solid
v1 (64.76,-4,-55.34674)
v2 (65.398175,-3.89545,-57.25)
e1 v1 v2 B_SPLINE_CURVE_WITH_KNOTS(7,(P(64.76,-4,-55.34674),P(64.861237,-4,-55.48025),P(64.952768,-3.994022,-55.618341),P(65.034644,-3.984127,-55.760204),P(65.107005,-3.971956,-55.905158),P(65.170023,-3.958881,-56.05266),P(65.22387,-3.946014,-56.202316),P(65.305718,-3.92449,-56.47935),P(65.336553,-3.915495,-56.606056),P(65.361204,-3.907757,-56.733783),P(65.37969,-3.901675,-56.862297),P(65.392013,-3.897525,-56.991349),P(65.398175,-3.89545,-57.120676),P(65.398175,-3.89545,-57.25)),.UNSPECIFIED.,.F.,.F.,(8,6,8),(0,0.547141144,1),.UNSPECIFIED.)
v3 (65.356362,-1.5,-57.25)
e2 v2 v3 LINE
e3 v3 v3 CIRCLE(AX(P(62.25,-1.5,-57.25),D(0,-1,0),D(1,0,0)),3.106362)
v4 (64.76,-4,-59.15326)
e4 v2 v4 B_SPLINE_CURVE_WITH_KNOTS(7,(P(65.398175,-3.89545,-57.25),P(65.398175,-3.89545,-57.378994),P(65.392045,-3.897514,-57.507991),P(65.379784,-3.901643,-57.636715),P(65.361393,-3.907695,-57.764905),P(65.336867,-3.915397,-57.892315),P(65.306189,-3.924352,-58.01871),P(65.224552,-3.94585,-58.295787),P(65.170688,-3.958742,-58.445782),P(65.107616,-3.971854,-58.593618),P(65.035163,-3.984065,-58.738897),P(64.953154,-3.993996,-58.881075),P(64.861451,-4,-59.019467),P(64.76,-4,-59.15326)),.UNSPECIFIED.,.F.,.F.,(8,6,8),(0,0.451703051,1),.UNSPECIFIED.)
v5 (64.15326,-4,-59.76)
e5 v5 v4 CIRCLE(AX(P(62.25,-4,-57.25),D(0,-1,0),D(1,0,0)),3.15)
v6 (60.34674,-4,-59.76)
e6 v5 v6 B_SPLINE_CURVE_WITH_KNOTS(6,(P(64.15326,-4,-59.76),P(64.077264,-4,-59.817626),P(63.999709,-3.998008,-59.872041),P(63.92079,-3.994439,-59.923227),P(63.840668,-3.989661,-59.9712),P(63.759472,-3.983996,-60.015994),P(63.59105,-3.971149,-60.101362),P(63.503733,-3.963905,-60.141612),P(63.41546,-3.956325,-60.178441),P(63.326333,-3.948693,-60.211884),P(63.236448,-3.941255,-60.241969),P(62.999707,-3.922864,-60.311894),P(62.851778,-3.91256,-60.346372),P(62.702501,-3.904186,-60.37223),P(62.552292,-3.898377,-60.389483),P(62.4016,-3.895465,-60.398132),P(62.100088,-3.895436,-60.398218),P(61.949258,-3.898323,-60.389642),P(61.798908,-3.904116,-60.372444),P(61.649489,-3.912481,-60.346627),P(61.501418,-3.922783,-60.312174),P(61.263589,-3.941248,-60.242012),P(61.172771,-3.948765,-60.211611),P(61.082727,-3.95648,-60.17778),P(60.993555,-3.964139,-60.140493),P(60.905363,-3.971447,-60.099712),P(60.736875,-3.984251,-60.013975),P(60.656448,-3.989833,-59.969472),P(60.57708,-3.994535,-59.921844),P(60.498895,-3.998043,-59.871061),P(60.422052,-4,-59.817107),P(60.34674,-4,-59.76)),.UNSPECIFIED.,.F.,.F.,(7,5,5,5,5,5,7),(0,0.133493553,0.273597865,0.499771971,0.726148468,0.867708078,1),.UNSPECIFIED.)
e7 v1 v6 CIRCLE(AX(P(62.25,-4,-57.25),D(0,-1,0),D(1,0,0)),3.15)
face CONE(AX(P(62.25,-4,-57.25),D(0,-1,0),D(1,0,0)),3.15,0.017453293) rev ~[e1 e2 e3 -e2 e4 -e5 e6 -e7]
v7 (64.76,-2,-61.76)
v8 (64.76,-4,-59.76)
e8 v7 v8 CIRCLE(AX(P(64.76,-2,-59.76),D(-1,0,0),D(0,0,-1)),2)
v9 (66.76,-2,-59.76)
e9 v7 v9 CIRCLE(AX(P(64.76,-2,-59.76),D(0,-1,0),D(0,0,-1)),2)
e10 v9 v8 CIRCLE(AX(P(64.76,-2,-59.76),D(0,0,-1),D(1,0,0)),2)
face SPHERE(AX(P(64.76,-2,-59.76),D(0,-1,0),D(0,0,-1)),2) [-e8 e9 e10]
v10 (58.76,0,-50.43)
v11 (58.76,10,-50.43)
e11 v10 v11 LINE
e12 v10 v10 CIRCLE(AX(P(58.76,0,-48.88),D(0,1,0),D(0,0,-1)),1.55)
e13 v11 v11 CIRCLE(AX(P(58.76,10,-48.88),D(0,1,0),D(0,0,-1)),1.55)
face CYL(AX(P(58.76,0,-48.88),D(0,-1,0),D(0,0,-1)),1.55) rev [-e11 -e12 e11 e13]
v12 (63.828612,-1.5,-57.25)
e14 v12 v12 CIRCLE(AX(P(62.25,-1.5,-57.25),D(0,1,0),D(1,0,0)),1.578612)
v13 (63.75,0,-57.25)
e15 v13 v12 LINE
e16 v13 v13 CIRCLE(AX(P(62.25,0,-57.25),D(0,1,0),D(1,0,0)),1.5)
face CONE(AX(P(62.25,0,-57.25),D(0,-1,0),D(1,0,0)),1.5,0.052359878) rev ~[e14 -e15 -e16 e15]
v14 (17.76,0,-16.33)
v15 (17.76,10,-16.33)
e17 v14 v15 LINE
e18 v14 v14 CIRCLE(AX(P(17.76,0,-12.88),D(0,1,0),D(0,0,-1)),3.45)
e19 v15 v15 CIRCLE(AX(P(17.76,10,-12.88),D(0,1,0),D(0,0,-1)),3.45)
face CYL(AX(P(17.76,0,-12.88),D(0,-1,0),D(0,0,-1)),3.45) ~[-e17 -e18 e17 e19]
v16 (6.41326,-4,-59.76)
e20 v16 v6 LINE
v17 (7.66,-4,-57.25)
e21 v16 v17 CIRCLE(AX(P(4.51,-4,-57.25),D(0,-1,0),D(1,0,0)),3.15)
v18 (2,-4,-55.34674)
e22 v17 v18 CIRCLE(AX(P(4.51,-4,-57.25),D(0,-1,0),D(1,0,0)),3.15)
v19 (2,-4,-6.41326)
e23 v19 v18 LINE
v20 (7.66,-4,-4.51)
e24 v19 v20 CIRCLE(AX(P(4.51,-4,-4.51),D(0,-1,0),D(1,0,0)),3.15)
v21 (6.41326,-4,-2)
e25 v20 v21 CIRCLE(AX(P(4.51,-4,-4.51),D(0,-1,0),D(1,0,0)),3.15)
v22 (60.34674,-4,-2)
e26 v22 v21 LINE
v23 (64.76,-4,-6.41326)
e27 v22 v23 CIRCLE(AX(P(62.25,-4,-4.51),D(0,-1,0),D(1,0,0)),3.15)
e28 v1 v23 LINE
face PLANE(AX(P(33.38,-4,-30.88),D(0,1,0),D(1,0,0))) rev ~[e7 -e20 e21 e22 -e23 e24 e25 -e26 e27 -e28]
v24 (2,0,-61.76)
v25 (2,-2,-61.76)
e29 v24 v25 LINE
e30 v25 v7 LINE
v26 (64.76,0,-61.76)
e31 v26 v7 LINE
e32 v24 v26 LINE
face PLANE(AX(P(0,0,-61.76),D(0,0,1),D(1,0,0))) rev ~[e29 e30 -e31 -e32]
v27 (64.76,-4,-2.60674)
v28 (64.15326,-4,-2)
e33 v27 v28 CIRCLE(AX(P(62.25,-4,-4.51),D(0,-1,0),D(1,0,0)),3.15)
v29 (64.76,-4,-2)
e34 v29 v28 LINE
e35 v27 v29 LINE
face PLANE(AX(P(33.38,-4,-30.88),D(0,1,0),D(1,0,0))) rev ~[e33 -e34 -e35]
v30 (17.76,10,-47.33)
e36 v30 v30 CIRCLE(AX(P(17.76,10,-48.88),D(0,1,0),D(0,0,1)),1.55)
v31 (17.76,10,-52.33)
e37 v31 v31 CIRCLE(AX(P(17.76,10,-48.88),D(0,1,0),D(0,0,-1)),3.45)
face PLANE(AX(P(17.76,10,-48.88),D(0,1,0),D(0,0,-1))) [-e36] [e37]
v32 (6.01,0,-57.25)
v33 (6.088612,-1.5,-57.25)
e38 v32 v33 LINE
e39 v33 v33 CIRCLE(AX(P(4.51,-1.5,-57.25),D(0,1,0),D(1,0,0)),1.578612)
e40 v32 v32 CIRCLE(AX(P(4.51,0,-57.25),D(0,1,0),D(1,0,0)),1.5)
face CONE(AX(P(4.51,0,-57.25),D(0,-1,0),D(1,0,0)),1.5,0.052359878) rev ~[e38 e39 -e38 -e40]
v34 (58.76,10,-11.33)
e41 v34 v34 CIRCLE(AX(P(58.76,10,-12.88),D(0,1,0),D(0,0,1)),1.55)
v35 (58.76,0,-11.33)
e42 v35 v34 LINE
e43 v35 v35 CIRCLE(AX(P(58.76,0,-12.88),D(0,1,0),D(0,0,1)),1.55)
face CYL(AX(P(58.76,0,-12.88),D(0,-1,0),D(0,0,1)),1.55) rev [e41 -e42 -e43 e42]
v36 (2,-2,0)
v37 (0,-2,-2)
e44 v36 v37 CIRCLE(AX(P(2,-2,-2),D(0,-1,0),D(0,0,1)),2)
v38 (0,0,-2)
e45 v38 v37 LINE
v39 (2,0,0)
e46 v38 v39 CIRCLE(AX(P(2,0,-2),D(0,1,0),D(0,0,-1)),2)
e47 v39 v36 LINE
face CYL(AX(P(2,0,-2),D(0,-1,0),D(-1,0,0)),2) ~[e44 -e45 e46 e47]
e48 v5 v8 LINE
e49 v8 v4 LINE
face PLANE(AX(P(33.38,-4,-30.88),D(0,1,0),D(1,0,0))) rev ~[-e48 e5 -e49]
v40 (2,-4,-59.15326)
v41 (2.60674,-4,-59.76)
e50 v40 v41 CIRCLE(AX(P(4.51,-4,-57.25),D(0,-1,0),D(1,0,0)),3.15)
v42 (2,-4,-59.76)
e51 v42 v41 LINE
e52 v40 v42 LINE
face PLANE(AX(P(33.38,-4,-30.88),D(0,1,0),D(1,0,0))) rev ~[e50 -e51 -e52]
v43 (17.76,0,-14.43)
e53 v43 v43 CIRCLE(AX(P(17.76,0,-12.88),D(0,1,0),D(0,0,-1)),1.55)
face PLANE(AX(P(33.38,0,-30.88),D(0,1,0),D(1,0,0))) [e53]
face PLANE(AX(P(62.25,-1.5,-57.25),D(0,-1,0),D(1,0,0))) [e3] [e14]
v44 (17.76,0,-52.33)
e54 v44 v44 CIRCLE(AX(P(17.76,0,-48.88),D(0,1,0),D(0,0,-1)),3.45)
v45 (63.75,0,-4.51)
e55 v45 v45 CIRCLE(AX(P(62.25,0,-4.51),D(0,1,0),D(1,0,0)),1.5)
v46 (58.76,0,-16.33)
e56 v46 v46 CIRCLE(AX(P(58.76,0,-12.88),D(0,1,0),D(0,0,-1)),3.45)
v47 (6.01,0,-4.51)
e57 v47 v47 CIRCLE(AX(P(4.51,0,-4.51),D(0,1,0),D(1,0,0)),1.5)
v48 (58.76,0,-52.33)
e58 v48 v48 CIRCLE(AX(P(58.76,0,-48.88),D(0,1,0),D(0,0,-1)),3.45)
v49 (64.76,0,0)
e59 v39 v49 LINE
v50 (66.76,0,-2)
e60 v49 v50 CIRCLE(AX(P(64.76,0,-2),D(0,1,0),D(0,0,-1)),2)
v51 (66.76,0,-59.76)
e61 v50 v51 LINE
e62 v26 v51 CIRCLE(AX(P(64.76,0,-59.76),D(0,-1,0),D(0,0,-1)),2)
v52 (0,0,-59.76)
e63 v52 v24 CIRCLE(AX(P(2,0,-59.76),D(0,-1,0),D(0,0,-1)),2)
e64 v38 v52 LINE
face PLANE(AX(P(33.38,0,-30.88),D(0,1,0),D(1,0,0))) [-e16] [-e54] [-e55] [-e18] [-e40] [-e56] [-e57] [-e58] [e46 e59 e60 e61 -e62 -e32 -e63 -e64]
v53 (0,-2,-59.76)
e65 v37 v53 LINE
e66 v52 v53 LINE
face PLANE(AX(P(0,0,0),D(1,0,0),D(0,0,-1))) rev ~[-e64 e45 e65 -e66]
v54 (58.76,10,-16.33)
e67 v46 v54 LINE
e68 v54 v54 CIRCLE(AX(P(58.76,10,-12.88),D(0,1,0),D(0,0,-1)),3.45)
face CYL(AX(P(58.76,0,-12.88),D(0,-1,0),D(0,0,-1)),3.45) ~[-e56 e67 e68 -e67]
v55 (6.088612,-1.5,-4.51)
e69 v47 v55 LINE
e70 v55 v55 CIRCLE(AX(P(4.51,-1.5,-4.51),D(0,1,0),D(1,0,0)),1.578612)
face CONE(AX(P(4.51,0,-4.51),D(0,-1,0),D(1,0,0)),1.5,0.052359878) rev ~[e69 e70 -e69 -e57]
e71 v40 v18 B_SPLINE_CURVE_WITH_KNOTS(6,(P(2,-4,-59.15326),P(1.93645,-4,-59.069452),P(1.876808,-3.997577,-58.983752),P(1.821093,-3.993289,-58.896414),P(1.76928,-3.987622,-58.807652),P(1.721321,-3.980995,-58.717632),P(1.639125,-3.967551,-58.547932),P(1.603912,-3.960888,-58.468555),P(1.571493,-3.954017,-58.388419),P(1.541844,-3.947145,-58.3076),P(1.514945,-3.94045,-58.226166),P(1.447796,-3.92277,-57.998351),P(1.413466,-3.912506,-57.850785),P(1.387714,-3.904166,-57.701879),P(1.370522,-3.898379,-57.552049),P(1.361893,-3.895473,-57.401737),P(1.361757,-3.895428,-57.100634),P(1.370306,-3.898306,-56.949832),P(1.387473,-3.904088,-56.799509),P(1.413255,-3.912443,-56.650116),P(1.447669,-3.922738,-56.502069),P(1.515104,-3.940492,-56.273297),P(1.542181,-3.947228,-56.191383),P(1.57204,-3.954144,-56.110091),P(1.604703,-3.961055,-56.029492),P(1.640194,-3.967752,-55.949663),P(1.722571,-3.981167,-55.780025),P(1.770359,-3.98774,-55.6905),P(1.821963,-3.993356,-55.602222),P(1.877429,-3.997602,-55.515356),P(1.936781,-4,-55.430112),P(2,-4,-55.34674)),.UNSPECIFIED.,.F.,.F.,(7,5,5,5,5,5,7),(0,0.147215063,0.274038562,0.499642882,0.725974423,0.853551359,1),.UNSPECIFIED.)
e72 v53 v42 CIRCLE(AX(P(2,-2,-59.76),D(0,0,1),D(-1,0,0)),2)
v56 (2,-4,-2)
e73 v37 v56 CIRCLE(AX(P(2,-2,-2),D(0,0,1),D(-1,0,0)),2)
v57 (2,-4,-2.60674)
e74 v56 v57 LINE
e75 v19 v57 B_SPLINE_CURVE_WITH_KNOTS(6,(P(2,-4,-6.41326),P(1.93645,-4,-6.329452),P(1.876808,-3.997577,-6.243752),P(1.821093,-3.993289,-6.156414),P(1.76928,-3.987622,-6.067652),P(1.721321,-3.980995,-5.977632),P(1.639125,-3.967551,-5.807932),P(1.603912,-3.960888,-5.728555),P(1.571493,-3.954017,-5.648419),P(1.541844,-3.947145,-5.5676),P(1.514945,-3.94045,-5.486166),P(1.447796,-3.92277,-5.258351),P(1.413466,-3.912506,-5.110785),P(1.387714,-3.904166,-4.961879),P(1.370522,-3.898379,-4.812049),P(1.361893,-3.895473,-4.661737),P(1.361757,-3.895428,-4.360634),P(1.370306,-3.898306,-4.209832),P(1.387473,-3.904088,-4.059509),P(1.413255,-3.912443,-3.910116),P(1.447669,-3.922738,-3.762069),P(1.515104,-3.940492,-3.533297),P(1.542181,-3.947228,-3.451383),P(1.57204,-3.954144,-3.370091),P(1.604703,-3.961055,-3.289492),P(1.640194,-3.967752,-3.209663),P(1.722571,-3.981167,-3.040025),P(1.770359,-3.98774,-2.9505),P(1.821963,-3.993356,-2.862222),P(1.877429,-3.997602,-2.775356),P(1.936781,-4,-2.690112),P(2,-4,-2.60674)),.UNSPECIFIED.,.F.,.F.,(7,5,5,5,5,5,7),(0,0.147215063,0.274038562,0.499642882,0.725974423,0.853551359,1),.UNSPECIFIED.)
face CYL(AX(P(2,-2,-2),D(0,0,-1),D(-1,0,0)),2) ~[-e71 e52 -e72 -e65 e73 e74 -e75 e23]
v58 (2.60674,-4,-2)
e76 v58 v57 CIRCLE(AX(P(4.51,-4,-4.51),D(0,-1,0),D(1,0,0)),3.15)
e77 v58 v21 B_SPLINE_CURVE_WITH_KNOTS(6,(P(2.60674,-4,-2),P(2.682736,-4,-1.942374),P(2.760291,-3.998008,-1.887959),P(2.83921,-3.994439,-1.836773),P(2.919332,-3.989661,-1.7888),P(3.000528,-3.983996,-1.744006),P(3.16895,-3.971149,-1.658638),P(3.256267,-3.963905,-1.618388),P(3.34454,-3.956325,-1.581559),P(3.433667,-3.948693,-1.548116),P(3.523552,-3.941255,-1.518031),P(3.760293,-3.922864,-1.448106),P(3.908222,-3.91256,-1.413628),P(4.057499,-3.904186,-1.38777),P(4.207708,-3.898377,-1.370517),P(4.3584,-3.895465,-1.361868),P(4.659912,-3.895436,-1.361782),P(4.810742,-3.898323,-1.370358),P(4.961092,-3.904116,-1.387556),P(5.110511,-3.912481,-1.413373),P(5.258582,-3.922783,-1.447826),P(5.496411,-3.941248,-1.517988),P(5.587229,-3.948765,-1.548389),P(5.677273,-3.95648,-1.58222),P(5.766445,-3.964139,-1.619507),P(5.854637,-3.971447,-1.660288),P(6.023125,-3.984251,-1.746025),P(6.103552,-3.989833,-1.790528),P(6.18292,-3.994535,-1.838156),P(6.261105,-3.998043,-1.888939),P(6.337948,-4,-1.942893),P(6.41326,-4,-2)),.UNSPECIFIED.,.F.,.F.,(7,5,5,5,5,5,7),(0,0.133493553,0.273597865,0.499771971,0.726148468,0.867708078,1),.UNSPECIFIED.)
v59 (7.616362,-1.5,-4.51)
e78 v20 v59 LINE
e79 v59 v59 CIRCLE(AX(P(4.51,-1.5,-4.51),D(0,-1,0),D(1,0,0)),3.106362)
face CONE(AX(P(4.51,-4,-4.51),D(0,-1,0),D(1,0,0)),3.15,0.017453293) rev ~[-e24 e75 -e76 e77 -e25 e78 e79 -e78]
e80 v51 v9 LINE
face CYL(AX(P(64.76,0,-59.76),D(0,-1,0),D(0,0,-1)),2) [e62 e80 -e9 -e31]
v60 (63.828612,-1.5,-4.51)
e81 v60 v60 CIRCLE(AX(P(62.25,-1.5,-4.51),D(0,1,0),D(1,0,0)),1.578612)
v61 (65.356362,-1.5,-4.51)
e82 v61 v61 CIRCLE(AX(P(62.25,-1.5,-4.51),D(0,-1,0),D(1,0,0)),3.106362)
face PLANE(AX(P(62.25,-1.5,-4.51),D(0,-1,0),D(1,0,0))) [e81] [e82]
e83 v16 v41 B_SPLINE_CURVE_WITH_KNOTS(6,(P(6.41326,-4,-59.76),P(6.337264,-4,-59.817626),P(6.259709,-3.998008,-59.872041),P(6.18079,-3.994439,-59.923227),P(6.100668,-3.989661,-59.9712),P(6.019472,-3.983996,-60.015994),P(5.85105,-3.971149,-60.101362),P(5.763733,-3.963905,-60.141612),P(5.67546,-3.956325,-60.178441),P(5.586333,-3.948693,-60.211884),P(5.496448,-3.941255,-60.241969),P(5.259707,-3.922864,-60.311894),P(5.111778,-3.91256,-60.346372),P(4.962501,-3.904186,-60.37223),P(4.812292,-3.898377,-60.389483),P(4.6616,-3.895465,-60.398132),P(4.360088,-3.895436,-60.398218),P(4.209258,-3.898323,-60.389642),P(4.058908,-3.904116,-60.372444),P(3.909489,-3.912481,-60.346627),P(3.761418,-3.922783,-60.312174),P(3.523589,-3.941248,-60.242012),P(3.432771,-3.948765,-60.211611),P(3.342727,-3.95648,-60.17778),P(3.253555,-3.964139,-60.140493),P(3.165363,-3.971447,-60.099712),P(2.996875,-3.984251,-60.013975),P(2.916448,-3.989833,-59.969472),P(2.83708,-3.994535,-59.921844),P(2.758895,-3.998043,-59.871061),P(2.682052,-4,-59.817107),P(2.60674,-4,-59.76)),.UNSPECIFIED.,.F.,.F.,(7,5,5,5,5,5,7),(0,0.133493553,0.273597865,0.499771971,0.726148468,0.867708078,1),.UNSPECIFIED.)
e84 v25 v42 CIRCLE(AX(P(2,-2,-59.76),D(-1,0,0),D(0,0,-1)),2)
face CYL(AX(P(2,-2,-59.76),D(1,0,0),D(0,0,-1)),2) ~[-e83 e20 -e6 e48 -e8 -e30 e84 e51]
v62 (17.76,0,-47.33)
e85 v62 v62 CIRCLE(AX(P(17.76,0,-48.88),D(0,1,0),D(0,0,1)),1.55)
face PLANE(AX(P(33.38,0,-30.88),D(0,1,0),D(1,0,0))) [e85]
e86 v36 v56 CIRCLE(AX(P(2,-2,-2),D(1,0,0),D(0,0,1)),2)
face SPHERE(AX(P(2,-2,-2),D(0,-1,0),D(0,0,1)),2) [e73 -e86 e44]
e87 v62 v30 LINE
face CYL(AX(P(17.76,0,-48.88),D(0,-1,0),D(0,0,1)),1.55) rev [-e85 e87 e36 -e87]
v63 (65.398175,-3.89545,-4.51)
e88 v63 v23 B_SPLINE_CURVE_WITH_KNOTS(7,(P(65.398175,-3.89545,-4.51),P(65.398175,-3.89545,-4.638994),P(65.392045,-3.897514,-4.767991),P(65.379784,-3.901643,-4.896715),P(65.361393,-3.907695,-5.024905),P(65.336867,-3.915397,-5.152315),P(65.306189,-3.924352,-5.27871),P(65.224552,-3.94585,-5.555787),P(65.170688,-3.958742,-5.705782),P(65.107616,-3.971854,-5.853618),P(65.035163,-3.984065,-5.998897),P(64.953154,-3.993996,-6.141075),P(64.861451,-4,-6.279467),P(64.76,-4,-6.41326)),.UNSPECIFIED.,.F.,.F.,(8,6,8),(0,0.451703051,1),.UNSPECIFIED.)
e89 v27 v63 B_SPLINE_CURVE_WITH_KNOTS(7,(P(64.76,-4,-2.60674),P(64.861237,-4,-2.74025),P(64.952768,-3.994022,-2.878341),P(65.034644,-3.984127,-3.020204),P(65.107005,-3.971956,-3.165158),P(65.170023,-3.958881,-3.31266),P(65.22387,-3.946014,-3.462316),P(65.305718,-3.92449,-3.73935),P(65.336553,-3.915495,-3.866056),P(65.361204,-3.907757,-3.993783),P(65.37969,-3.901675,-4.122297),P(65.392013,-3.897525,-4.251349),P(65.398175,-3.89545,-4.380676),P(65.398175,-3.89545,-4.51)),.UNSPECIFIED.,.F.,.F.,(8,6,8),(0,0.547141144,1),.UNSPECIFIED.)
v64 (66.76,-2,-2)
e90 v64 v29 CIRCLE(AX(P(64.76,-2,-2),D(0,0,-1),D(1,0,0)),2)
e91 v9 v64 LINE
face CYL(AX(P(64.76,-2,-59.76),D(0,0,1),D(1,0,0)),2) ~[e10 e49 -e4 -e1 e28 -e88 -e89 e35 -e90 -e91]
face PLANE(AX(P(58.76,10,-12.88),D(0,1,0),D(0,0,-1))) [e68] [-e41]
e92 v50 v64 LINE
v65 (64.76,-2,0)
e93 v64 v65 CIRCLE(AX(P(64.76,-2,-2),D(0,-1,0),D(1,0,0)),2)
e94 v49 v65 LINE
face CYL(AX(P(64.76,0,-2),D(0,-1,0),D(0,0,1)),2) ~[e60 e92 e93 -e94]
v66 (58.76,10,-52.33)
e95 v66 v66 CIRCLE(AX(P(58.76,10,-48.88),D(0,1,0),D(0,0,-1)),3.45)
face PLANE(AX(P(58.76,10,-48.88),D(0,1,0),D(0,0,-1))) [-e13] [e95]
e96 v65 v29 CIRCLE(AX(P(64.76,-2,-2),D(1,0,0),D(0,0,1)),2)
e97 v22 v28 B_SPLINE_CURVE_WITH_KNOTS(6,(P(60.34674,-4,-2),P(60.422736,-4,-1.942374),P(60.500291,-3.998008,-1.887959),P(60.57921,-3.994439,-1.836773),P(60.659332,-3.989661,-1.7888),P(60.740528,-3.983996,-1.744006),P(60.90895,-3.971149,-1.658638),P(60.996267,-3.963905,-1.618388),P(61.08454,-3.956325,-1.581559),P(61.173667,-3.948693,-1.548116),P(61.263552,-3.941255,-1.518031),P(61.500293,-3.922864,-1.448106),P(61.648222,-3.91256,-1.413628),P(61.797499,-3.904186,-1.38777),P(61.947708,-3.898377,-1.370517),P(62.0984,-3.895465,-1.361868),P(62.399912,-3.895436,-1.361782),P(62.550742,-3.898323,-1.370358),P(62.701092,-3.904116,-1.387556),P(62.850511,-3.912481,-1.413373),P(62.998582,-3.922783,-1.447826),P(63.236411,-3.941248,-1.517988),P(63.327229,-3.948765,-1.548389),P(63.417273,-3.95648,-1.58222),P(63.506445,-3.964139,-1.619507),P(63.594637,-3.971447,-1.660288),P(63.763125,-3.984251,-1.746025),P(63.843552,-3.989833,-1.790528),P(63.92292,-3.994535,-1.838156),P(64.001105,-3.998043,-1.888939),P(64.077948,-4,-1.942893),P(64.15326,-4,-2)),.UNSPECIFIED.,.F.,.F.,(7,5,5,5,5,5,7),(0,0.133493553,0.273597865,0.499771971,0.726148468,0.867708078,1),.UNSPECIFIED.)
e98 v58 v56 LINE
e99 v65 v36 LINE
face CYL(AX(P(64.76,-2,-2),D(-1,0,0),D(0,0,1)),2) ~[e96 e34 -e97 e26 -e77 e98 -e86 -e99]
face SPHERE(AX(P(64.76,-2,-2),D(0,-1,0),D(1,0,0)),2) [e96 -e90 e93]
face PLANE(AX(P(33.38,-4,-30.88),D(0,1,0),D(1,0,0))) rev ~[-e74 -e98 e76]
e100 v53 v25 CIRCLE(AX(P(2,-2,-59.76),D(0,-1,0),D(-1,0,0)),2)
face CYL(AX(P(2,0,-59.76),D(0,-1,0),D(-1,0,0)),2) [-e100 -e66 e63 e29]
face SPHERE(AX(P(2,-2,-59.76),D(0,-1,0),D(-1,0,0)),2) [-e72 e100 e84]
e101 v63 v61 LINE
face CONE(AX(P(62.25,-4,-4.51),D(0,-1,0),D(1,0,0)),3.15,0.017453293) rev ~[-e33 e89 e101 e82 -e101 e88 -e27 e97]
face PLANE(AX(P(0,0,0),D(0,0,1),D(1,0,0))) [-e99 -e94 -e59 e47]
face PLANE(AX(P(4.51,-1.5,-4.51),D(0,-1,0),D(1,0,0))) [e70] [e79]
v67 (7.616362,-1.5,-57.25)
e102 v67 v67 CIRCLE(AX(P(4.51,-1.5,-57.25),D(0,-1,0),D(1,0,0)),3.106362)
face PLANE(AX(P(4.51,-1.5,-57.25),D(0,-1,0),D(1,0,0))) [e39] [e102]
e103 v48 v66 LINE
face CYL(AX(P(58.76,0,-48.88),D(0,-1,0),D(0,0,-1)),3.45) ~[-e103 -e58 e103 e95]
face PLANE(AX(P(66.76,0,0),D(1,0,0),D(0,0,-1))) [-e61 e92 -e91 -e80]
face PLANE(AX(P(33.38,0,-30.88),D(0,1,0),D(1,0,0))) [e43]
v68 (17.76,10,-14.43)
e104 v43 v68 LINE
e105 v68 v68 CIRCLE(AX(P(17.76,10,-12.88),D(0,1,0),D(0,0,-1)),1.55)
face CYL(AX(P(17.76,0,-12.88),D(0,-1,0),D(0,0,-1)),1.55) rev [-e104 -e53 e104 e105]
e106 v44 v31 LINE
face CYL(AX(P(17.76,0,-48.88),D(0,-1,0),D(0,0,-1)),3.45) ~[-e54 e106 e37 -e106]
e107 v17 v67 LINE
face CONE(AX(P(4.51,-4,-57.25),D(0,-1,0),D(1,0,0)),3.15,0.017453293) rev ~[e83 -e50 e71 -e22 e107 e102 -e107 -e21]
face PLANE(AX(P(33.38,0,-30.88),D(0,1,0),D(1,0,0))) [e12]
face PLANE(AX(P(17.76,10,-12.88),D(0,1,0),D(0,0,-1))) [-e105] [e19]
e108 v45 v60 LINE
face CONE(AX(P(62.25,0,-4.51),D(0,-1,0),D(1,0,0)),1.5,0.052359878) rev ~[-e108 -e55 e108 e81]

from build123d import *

# Parameters (mm, degrees)
SKETCH1_W                    = 66.76
SKETCH1_H                    = 61.76
BOSS_EXTRUDE3_DEPTH          = 4
SKETCH2_R                    = 3.45
SKETCH2_R_2                  = 1.55
BOSS_EXTRUDE4_DEPTH          = 10
SKETCH3_R                    = 1.5
CUT_EXTRUDE1_DEPTH           = 3
CUT_EXTRUDE1_DRAFT           = 3
CUT_EXTRUDE1_PROFILE_2_DEPTH = 3
CUT_EXTRUDE1_PROFILE_2_DRAFT = 3
CUT_EXTRUDE1_PROFILE_3_DEPTH = 3
CUT_EXTRUDE1_PROFILE_3_DRAFT = 3
CUT_EXTRUDE1_PROFILE_4_DEPTH = 3
CUT_EXTRUDE1_PROFILE_4_DRAFT = 3
FILLET2_R                    = 2
FILLET1_R                    = 2
SKETCH5_R                    = 3.15
CUT_EXTRUDE2_DEPTH           = 2.5
CUT_EXTRUDE2_DRAFT           = -1
CUT_EXTRUDE2_PROFILE_2_DEPTH = 2.5
CUT_EXTRUDE2_PROFILE_2_DRAFT = -1
CUT_EXTRUDE2_PROFILE_3_DEPTH = 2.5
CUT_EXTRUDE2_PROFILE_3_DRAFT = -1
CUT_EXTRUDE2_PROFILE_4_DEPTH = 2.5
CUT_EXTRUDE2_PROFILE_4_DRAFT = -1


with BuildPart() as part:
    # Sketch1 → Boss-Extrude3 (new body)
    with BuildSketch(Plane(origin=(0, 0, 0), x_dir=(1, 0, 0), z_dir=(0, 1, 0))):
        with Locations((33.38, 30.88)):
            Rectangle(SKETCH1_W, SKETCH1_H)
    extrude(amount=-BOSS_EXTRUDE3_DEPTH)

    # Sketch2 → Boss-Extrude4 (add)
    # profile 1 of 4: a face of its own
    with BuildSketch(Plane(origin=(0, 0, 0), x_dir=(1, 0, 0), z_dir=(0, 1, 0))):
        with Locations(Location((58.76, 12.88, 0), (0, 0, 90))):
            Circle(SKETCH2_R)
        with Locations(Location((58.76, 12.88, 0), (0, 0, 270))):
            Circle(SKETCH2_R_2, mode=Mode.SUBTRACT)
    # profile 2 of 4: a face of its own
    with BuildSketch(Plane(origin=(0, 0, 0), x_dir=(1, 0, 0), z_dir=(0, 1, 0))):
        with Locations(Location((17.76, 12.88, 0), (0, 0, 90))):
            Circle(SKETCH2_R)
        with Locations(Location((17.76, 12.88, 0), (0, 0, 90))):
            Circle(SKETCH2_R_2, mode=Mode.SUBTRACT)
    # profile 3 of 4: a face of its own
    with BuildSketch(Plane(origin=(0, 0, 0), x_dir=(1, 0, 0), z_dir=(0, 1, 0))):
        with Locations(Location((58.76, 48.88, 0), (0, 0, 90))):
            Circle(SKETCH2_R)
        with Locations(Location((58.76, 48.88, 0), (0, 0, 90))):
            Circle(SKETCH2_R_2, mode=Mode.SUBTRACT)
    # profile 4 of 4: a face of its own
    with BuildSketch(Plane(origin=(0, 0, 0), x_dir=(1, 0, 0), z_dir=(0, 1, 0))):
        with Locations(Location((17.76, 48.88, 0), (0, 0, 90))):
            Circle(SKETCH2_R)
        with Locations(Location((17.76, 48.88, 0), (0, 0, 270))):
            Circle(SKETCH2_R_2, mode=Mode.SUBTRACT)
    extrude(amount=BOSS_EXTRUDE4_DEPTH)


with BuildPart() as cut_extrude1_tool:
    # Sketch3 → Cut-Extrude1 (with draft: the straight prism first)
    with BuildSketch(Plane(origin=(0, 0, 0), x_dir=(1, 0, 0), z_dir=(0, 1, 0))):
        with Locations((4.51, 57.25)):
            Circle(SKETCH3_R)
    extrude(amount=-CUT_EXTRUDE1_DEPTH)
    # Cut-Extrude1: the draft: its side faces are tilted about the plane it starts from
    cut_extrude1_sides = [cut_extrude1_tool.faces().sort_by_distance(p)[0] for p in [
        (3.01, -1.5, -57.25),
    ]]
    draft(cut_extrude1_sides, Plane(origin=(0, 0, 0), x_dir=(1, 0, 0), z_dir=(0, 1, 0)), CUT_EXTRUDE1_DRAFT)


with BuildPart() as part_1:
    add(part.part)

    # Cut-Extrude1: cut by cut_extrude1_tool
    add(cut_extrude1_tool.part, mode=Mode.SUBTRACT)


with BuildPart() as cut_extrude1_profile_2_tool:
    # Sketch3 → Cut-Extrude1 profile 2 (with draft: the straight prism first)
    with BuildSketch(Plane(origin=(0, 0, 0), x_dir=(1, 0, 0), z_dir=(0, 1, 0))):
        with Locations((62.25, 57.25)):
            Circle(SKETCH3_R)
    extrude(amount=-CUT_EXTRUDE1_PROFILE_2_DEPTH)
    # Cut-Extrude1 profile 2: the draft: its side faces are tilted about the plane it starts from
    cut_extrude1_profile_2_sides = [cut_extrude1_profile_2_tool.faces().sort_by_distance(p)[0] for p in [
        (60.75, -1.5, -57.25),
    ]]
    draft(cut_extrude1_profile_2_sides, Plane(origin=(0, 0, 0), x_dir=(1, 0, 0), z_dir=(0, 1, 0)), CUT_EXTRUDE1_PROFILE_2_DRAFT)


with BuildPart() as part_2:
    add(part_1.part)

    # Cut-Extrude1 profile 2: cut by cut_extrude1_profile_2_tool
    add(cut_extrude1_profile_2_tool.part, mode=Mode.SUBTRACT)


with BuildPart() as cut_extrude1_profile_3_tool:
    # Sketch3 → Cut-Extrude1 profile 3 (with draft: the straight prism first)
    with BuildSketch(Plane(origin=(0, 0, 0), x_dir=(1, 0, 0), z_dir=(0, 1, 0))):
        with Locations((62.25, 4.51)):
            Circle(SKETCH3_R)
    extrude(amount=-CUT_EXTRUDE1_PROFILE_3_DEPTH)
    # Cut-Extrude1 profile 3: the draft: its side faces are tilted about the plane it starts from
    cut_extrude1_profile_3_sides = [cut_extrude1_profile_3_tool.faces().sort_by_distance(p)[0] for p in [
        (60.75, -1.5, -4.51),
    ]]
    draft(cut_extrude1_profile_3_sides, Plane(origin=(0, 0, 0), x_dir=(1, 0, 0), z_dir=(0, 1, 0)), CUT_EXTRUDE1_PROFILE_3_DRAFT)


with BuildPart() as part_3:
    add(part_2.part)

    # Cut-Extrude1 profile 3: cut by cut_extrude1_profile_3_tool
    add(cut_extrude1_profile_3_tool.part, mode=Mode.SUBTRACT)


with BuildPart() as cut_extrude1_profile_4_tool:
    # Sketch3 → Cut-Extrude1 profile 4 (with draft: the straight prism first)
    with BuildSketch(Plane(origin=(0, 0, 0), x_dir=(1, 0, 0), z_dir=(0, 1, 0))):
        with Locations((4.51, 4.51)):
            Circle(SKETCH3_R)
    extrude(amount=-CUT_EXTRUDE1_PROFILE_4_DEPTH)
    # Cut-Extrude1 profile 4: the draft: its side faces are tilted about the plane it starts from
    cut_extrude1_profile_4_sides = [cut_extrude1_profile_4_tool.faces().sort_by_distance(p)[0] for p in [
        (3.01, -1.5, -4.51),
    ]]
    draft(cut_extrude1_profile_4_sides, Plane(origin=(0, 0, 0), x_dir=(1, 0, 0), z_dir=(0, 1, 0)), CUT_EXTRUDE1_PROFILE_4_DRAFT)


with BuildPart() as part_4:
    add(part_3.part)

    # Cut-Extrude1 profile 4: cut by cut_extrude1_profile_4_tool
    add(cut_extrude1_profile_4_tool.part, mode=Mode.SUBTRACT)

    # Fillet2
    fillet2_edges = [part_4.edges().sort_by_distance(p)[0] for p in [
        (0, -2, -61.76),
        (66.76, -2, -61.76),
        (66.76, -2, 0),
        (0, -2, 0),
    ]]
    fillet(fillet2_edges, radius=FILLET2_R)

    # Fillet1
    fillet1_edges = [part_4.edges().sort_by_distance(p)[0] for p in [
        (0, -4, -30.88),
        (33.38, -4, 0),
        (33.38, -4, -61.76),
        (66.76, -4, -30.88),
        (0.585786438, -4, -61.174213562),
        (66.174213562, -4, -61.174213562),
        (66.174213562, -4, -0.585786438),
        (0.585786438, -4, -0.585786438),
    ]]
    fillet(fillet1_edges, radius=FILLET1_R)


with BuildPart() as cut_extrude2_tool:
    # Sketch5 → Cut-Extrude2 (with draft: the straight prism first)
    with BuildSketch(Plane.XZ.offset(4)):
        with Locations((4.51, -4.51)):
            Circle(SKETCH5_R)
    extrude(amount=-CUT_EXTRUDE2_DEPTH)
    # Cut-Extrude2: the draft: its side faces are tilted about the plane it starts from
    cut_extrude2_sides = [cut_extrude2_tool.faces().sort_by_distance(p)[0] for p in [
        (1.36, -2.75, -4.51),
    ]]
    draft(cut_extrude2_sides, Plane.XZ.offset(4), CUT_EXTRUDE2_DRAFT)


with BuildPart() as part_5:
    add(part_4.part)

    # Cut-Extrude2: cut by cut_extrude2_tool
    add(cut_extrude2_tool.part, mode=Mode.SUBTRACT)


with BuildPart() as cut_extrude2_profile_2_tool:
    # Sketch5 → Cut-Extrude2 profile 2 (with draft: the straight prism first)
    with BuildSketch(Plane.XZ.offset(4)):
        with Locations((62.25, -4.51)):
            Circle(SKETCH5_R)
    extrude(amount=-CUT_EXTRUDE2_PROFILE_2_DEPTH)
    # Cut-Extrude2 profile 2: the draft: its side faces are tilted about the plane it starts from
    cut_extrude2_profile_2_sides = [cut_extrude2_profile_2_tool.faces().sort_by_distance(p)[0] for p in [
        (59.1, -2.75, -4.51),
    ]]
    draft(cut_extrude2_profile_2_sides, Plane.XZ.offset(4), CUT_EXTRUDE2_PROFILE_2_DRAFT)


with BuildPart() as part_6:
    add(part_5.part)

    # Cut-Extrude2 profile 2: cut by cut_extrude2_profile_2_tool
    add(cut_extrude2_profile_2_tool.part, mode=Mode.SUBTRACT)


with BuildPart() as cut_extrude2_profile_3_tool:
    # Sketch5 → Cut-Extrude2 profile 3 (with draft: the straight prism first)
    with BuildSketch(Plane.XZ.offset(4)):
        with Locations((62.25, -57.25)):
            Circle(SKETCH5_R)
    extrude(amount=-CUT_EXTRUDE2_PROFILE_3_DEPTH)
    # Cut-Extrude2 profile 3: the draft: its side faces are tilted about the plane it starts from
    cut_extrude2_profile_3_sides = [cut_extrude2_profile_3_tool.faces().sort_by_distance(p)[0] for p in [
        (59.1, -2.75, -57.25),
    ]]
    draft(cut_extrude2_profile_3_sides, Plane.XZ.offset(4), CUT_EXTRUDE2_PROFILE_3_DRAFT)


with BuildPart() as part_7:
    add(part_6.part)

    # Cut-Extrude2 profile 3: cut by cut_extrude2_profile_3_tool
    add(cut_extrude2_profile_3_tool.part, mode=Mode.SUBTRACT)


with BuildPart() as cut_extrude2_profile_4_tool:
    # Sketch5 → Cut-Extrude2 profile 4 (with draft: the straight prism first)
    with BuildSketch(Plane.XZ.offset(4)):
        with Locations((4.51, -57.25)):
            Circle(SKETCH5_R)
    extrude(amount=-CUT_EXTRUDE2_PROFILE_4_DEPTH)
    # Cut-Extrude2 profile 4: the draft: its side faces are tilted about the plane it starts from
    cut_extrude2_profile_4_sides = [cut_extrude2_profile_4_tool.faces().sort_by_distance(p)[0] for p in [
        (1.36, -2.75, -57.25),
    ]]
    draft(cut_extrude2_profile_4_sides, Plane.XZ.offset(4), CUT_EXTRUDE2_PROFILE_4_DRAFT)


with BuildPart() as part_8:
    add(part_7.part)

    # Cut-Extrude2 profile 4: cut by cut_extrude2_profile_4_tool
    add(cut_extrude2_profile_4_tool.part, mode=Mode.SUBTRACT)


solid = part_8.part
